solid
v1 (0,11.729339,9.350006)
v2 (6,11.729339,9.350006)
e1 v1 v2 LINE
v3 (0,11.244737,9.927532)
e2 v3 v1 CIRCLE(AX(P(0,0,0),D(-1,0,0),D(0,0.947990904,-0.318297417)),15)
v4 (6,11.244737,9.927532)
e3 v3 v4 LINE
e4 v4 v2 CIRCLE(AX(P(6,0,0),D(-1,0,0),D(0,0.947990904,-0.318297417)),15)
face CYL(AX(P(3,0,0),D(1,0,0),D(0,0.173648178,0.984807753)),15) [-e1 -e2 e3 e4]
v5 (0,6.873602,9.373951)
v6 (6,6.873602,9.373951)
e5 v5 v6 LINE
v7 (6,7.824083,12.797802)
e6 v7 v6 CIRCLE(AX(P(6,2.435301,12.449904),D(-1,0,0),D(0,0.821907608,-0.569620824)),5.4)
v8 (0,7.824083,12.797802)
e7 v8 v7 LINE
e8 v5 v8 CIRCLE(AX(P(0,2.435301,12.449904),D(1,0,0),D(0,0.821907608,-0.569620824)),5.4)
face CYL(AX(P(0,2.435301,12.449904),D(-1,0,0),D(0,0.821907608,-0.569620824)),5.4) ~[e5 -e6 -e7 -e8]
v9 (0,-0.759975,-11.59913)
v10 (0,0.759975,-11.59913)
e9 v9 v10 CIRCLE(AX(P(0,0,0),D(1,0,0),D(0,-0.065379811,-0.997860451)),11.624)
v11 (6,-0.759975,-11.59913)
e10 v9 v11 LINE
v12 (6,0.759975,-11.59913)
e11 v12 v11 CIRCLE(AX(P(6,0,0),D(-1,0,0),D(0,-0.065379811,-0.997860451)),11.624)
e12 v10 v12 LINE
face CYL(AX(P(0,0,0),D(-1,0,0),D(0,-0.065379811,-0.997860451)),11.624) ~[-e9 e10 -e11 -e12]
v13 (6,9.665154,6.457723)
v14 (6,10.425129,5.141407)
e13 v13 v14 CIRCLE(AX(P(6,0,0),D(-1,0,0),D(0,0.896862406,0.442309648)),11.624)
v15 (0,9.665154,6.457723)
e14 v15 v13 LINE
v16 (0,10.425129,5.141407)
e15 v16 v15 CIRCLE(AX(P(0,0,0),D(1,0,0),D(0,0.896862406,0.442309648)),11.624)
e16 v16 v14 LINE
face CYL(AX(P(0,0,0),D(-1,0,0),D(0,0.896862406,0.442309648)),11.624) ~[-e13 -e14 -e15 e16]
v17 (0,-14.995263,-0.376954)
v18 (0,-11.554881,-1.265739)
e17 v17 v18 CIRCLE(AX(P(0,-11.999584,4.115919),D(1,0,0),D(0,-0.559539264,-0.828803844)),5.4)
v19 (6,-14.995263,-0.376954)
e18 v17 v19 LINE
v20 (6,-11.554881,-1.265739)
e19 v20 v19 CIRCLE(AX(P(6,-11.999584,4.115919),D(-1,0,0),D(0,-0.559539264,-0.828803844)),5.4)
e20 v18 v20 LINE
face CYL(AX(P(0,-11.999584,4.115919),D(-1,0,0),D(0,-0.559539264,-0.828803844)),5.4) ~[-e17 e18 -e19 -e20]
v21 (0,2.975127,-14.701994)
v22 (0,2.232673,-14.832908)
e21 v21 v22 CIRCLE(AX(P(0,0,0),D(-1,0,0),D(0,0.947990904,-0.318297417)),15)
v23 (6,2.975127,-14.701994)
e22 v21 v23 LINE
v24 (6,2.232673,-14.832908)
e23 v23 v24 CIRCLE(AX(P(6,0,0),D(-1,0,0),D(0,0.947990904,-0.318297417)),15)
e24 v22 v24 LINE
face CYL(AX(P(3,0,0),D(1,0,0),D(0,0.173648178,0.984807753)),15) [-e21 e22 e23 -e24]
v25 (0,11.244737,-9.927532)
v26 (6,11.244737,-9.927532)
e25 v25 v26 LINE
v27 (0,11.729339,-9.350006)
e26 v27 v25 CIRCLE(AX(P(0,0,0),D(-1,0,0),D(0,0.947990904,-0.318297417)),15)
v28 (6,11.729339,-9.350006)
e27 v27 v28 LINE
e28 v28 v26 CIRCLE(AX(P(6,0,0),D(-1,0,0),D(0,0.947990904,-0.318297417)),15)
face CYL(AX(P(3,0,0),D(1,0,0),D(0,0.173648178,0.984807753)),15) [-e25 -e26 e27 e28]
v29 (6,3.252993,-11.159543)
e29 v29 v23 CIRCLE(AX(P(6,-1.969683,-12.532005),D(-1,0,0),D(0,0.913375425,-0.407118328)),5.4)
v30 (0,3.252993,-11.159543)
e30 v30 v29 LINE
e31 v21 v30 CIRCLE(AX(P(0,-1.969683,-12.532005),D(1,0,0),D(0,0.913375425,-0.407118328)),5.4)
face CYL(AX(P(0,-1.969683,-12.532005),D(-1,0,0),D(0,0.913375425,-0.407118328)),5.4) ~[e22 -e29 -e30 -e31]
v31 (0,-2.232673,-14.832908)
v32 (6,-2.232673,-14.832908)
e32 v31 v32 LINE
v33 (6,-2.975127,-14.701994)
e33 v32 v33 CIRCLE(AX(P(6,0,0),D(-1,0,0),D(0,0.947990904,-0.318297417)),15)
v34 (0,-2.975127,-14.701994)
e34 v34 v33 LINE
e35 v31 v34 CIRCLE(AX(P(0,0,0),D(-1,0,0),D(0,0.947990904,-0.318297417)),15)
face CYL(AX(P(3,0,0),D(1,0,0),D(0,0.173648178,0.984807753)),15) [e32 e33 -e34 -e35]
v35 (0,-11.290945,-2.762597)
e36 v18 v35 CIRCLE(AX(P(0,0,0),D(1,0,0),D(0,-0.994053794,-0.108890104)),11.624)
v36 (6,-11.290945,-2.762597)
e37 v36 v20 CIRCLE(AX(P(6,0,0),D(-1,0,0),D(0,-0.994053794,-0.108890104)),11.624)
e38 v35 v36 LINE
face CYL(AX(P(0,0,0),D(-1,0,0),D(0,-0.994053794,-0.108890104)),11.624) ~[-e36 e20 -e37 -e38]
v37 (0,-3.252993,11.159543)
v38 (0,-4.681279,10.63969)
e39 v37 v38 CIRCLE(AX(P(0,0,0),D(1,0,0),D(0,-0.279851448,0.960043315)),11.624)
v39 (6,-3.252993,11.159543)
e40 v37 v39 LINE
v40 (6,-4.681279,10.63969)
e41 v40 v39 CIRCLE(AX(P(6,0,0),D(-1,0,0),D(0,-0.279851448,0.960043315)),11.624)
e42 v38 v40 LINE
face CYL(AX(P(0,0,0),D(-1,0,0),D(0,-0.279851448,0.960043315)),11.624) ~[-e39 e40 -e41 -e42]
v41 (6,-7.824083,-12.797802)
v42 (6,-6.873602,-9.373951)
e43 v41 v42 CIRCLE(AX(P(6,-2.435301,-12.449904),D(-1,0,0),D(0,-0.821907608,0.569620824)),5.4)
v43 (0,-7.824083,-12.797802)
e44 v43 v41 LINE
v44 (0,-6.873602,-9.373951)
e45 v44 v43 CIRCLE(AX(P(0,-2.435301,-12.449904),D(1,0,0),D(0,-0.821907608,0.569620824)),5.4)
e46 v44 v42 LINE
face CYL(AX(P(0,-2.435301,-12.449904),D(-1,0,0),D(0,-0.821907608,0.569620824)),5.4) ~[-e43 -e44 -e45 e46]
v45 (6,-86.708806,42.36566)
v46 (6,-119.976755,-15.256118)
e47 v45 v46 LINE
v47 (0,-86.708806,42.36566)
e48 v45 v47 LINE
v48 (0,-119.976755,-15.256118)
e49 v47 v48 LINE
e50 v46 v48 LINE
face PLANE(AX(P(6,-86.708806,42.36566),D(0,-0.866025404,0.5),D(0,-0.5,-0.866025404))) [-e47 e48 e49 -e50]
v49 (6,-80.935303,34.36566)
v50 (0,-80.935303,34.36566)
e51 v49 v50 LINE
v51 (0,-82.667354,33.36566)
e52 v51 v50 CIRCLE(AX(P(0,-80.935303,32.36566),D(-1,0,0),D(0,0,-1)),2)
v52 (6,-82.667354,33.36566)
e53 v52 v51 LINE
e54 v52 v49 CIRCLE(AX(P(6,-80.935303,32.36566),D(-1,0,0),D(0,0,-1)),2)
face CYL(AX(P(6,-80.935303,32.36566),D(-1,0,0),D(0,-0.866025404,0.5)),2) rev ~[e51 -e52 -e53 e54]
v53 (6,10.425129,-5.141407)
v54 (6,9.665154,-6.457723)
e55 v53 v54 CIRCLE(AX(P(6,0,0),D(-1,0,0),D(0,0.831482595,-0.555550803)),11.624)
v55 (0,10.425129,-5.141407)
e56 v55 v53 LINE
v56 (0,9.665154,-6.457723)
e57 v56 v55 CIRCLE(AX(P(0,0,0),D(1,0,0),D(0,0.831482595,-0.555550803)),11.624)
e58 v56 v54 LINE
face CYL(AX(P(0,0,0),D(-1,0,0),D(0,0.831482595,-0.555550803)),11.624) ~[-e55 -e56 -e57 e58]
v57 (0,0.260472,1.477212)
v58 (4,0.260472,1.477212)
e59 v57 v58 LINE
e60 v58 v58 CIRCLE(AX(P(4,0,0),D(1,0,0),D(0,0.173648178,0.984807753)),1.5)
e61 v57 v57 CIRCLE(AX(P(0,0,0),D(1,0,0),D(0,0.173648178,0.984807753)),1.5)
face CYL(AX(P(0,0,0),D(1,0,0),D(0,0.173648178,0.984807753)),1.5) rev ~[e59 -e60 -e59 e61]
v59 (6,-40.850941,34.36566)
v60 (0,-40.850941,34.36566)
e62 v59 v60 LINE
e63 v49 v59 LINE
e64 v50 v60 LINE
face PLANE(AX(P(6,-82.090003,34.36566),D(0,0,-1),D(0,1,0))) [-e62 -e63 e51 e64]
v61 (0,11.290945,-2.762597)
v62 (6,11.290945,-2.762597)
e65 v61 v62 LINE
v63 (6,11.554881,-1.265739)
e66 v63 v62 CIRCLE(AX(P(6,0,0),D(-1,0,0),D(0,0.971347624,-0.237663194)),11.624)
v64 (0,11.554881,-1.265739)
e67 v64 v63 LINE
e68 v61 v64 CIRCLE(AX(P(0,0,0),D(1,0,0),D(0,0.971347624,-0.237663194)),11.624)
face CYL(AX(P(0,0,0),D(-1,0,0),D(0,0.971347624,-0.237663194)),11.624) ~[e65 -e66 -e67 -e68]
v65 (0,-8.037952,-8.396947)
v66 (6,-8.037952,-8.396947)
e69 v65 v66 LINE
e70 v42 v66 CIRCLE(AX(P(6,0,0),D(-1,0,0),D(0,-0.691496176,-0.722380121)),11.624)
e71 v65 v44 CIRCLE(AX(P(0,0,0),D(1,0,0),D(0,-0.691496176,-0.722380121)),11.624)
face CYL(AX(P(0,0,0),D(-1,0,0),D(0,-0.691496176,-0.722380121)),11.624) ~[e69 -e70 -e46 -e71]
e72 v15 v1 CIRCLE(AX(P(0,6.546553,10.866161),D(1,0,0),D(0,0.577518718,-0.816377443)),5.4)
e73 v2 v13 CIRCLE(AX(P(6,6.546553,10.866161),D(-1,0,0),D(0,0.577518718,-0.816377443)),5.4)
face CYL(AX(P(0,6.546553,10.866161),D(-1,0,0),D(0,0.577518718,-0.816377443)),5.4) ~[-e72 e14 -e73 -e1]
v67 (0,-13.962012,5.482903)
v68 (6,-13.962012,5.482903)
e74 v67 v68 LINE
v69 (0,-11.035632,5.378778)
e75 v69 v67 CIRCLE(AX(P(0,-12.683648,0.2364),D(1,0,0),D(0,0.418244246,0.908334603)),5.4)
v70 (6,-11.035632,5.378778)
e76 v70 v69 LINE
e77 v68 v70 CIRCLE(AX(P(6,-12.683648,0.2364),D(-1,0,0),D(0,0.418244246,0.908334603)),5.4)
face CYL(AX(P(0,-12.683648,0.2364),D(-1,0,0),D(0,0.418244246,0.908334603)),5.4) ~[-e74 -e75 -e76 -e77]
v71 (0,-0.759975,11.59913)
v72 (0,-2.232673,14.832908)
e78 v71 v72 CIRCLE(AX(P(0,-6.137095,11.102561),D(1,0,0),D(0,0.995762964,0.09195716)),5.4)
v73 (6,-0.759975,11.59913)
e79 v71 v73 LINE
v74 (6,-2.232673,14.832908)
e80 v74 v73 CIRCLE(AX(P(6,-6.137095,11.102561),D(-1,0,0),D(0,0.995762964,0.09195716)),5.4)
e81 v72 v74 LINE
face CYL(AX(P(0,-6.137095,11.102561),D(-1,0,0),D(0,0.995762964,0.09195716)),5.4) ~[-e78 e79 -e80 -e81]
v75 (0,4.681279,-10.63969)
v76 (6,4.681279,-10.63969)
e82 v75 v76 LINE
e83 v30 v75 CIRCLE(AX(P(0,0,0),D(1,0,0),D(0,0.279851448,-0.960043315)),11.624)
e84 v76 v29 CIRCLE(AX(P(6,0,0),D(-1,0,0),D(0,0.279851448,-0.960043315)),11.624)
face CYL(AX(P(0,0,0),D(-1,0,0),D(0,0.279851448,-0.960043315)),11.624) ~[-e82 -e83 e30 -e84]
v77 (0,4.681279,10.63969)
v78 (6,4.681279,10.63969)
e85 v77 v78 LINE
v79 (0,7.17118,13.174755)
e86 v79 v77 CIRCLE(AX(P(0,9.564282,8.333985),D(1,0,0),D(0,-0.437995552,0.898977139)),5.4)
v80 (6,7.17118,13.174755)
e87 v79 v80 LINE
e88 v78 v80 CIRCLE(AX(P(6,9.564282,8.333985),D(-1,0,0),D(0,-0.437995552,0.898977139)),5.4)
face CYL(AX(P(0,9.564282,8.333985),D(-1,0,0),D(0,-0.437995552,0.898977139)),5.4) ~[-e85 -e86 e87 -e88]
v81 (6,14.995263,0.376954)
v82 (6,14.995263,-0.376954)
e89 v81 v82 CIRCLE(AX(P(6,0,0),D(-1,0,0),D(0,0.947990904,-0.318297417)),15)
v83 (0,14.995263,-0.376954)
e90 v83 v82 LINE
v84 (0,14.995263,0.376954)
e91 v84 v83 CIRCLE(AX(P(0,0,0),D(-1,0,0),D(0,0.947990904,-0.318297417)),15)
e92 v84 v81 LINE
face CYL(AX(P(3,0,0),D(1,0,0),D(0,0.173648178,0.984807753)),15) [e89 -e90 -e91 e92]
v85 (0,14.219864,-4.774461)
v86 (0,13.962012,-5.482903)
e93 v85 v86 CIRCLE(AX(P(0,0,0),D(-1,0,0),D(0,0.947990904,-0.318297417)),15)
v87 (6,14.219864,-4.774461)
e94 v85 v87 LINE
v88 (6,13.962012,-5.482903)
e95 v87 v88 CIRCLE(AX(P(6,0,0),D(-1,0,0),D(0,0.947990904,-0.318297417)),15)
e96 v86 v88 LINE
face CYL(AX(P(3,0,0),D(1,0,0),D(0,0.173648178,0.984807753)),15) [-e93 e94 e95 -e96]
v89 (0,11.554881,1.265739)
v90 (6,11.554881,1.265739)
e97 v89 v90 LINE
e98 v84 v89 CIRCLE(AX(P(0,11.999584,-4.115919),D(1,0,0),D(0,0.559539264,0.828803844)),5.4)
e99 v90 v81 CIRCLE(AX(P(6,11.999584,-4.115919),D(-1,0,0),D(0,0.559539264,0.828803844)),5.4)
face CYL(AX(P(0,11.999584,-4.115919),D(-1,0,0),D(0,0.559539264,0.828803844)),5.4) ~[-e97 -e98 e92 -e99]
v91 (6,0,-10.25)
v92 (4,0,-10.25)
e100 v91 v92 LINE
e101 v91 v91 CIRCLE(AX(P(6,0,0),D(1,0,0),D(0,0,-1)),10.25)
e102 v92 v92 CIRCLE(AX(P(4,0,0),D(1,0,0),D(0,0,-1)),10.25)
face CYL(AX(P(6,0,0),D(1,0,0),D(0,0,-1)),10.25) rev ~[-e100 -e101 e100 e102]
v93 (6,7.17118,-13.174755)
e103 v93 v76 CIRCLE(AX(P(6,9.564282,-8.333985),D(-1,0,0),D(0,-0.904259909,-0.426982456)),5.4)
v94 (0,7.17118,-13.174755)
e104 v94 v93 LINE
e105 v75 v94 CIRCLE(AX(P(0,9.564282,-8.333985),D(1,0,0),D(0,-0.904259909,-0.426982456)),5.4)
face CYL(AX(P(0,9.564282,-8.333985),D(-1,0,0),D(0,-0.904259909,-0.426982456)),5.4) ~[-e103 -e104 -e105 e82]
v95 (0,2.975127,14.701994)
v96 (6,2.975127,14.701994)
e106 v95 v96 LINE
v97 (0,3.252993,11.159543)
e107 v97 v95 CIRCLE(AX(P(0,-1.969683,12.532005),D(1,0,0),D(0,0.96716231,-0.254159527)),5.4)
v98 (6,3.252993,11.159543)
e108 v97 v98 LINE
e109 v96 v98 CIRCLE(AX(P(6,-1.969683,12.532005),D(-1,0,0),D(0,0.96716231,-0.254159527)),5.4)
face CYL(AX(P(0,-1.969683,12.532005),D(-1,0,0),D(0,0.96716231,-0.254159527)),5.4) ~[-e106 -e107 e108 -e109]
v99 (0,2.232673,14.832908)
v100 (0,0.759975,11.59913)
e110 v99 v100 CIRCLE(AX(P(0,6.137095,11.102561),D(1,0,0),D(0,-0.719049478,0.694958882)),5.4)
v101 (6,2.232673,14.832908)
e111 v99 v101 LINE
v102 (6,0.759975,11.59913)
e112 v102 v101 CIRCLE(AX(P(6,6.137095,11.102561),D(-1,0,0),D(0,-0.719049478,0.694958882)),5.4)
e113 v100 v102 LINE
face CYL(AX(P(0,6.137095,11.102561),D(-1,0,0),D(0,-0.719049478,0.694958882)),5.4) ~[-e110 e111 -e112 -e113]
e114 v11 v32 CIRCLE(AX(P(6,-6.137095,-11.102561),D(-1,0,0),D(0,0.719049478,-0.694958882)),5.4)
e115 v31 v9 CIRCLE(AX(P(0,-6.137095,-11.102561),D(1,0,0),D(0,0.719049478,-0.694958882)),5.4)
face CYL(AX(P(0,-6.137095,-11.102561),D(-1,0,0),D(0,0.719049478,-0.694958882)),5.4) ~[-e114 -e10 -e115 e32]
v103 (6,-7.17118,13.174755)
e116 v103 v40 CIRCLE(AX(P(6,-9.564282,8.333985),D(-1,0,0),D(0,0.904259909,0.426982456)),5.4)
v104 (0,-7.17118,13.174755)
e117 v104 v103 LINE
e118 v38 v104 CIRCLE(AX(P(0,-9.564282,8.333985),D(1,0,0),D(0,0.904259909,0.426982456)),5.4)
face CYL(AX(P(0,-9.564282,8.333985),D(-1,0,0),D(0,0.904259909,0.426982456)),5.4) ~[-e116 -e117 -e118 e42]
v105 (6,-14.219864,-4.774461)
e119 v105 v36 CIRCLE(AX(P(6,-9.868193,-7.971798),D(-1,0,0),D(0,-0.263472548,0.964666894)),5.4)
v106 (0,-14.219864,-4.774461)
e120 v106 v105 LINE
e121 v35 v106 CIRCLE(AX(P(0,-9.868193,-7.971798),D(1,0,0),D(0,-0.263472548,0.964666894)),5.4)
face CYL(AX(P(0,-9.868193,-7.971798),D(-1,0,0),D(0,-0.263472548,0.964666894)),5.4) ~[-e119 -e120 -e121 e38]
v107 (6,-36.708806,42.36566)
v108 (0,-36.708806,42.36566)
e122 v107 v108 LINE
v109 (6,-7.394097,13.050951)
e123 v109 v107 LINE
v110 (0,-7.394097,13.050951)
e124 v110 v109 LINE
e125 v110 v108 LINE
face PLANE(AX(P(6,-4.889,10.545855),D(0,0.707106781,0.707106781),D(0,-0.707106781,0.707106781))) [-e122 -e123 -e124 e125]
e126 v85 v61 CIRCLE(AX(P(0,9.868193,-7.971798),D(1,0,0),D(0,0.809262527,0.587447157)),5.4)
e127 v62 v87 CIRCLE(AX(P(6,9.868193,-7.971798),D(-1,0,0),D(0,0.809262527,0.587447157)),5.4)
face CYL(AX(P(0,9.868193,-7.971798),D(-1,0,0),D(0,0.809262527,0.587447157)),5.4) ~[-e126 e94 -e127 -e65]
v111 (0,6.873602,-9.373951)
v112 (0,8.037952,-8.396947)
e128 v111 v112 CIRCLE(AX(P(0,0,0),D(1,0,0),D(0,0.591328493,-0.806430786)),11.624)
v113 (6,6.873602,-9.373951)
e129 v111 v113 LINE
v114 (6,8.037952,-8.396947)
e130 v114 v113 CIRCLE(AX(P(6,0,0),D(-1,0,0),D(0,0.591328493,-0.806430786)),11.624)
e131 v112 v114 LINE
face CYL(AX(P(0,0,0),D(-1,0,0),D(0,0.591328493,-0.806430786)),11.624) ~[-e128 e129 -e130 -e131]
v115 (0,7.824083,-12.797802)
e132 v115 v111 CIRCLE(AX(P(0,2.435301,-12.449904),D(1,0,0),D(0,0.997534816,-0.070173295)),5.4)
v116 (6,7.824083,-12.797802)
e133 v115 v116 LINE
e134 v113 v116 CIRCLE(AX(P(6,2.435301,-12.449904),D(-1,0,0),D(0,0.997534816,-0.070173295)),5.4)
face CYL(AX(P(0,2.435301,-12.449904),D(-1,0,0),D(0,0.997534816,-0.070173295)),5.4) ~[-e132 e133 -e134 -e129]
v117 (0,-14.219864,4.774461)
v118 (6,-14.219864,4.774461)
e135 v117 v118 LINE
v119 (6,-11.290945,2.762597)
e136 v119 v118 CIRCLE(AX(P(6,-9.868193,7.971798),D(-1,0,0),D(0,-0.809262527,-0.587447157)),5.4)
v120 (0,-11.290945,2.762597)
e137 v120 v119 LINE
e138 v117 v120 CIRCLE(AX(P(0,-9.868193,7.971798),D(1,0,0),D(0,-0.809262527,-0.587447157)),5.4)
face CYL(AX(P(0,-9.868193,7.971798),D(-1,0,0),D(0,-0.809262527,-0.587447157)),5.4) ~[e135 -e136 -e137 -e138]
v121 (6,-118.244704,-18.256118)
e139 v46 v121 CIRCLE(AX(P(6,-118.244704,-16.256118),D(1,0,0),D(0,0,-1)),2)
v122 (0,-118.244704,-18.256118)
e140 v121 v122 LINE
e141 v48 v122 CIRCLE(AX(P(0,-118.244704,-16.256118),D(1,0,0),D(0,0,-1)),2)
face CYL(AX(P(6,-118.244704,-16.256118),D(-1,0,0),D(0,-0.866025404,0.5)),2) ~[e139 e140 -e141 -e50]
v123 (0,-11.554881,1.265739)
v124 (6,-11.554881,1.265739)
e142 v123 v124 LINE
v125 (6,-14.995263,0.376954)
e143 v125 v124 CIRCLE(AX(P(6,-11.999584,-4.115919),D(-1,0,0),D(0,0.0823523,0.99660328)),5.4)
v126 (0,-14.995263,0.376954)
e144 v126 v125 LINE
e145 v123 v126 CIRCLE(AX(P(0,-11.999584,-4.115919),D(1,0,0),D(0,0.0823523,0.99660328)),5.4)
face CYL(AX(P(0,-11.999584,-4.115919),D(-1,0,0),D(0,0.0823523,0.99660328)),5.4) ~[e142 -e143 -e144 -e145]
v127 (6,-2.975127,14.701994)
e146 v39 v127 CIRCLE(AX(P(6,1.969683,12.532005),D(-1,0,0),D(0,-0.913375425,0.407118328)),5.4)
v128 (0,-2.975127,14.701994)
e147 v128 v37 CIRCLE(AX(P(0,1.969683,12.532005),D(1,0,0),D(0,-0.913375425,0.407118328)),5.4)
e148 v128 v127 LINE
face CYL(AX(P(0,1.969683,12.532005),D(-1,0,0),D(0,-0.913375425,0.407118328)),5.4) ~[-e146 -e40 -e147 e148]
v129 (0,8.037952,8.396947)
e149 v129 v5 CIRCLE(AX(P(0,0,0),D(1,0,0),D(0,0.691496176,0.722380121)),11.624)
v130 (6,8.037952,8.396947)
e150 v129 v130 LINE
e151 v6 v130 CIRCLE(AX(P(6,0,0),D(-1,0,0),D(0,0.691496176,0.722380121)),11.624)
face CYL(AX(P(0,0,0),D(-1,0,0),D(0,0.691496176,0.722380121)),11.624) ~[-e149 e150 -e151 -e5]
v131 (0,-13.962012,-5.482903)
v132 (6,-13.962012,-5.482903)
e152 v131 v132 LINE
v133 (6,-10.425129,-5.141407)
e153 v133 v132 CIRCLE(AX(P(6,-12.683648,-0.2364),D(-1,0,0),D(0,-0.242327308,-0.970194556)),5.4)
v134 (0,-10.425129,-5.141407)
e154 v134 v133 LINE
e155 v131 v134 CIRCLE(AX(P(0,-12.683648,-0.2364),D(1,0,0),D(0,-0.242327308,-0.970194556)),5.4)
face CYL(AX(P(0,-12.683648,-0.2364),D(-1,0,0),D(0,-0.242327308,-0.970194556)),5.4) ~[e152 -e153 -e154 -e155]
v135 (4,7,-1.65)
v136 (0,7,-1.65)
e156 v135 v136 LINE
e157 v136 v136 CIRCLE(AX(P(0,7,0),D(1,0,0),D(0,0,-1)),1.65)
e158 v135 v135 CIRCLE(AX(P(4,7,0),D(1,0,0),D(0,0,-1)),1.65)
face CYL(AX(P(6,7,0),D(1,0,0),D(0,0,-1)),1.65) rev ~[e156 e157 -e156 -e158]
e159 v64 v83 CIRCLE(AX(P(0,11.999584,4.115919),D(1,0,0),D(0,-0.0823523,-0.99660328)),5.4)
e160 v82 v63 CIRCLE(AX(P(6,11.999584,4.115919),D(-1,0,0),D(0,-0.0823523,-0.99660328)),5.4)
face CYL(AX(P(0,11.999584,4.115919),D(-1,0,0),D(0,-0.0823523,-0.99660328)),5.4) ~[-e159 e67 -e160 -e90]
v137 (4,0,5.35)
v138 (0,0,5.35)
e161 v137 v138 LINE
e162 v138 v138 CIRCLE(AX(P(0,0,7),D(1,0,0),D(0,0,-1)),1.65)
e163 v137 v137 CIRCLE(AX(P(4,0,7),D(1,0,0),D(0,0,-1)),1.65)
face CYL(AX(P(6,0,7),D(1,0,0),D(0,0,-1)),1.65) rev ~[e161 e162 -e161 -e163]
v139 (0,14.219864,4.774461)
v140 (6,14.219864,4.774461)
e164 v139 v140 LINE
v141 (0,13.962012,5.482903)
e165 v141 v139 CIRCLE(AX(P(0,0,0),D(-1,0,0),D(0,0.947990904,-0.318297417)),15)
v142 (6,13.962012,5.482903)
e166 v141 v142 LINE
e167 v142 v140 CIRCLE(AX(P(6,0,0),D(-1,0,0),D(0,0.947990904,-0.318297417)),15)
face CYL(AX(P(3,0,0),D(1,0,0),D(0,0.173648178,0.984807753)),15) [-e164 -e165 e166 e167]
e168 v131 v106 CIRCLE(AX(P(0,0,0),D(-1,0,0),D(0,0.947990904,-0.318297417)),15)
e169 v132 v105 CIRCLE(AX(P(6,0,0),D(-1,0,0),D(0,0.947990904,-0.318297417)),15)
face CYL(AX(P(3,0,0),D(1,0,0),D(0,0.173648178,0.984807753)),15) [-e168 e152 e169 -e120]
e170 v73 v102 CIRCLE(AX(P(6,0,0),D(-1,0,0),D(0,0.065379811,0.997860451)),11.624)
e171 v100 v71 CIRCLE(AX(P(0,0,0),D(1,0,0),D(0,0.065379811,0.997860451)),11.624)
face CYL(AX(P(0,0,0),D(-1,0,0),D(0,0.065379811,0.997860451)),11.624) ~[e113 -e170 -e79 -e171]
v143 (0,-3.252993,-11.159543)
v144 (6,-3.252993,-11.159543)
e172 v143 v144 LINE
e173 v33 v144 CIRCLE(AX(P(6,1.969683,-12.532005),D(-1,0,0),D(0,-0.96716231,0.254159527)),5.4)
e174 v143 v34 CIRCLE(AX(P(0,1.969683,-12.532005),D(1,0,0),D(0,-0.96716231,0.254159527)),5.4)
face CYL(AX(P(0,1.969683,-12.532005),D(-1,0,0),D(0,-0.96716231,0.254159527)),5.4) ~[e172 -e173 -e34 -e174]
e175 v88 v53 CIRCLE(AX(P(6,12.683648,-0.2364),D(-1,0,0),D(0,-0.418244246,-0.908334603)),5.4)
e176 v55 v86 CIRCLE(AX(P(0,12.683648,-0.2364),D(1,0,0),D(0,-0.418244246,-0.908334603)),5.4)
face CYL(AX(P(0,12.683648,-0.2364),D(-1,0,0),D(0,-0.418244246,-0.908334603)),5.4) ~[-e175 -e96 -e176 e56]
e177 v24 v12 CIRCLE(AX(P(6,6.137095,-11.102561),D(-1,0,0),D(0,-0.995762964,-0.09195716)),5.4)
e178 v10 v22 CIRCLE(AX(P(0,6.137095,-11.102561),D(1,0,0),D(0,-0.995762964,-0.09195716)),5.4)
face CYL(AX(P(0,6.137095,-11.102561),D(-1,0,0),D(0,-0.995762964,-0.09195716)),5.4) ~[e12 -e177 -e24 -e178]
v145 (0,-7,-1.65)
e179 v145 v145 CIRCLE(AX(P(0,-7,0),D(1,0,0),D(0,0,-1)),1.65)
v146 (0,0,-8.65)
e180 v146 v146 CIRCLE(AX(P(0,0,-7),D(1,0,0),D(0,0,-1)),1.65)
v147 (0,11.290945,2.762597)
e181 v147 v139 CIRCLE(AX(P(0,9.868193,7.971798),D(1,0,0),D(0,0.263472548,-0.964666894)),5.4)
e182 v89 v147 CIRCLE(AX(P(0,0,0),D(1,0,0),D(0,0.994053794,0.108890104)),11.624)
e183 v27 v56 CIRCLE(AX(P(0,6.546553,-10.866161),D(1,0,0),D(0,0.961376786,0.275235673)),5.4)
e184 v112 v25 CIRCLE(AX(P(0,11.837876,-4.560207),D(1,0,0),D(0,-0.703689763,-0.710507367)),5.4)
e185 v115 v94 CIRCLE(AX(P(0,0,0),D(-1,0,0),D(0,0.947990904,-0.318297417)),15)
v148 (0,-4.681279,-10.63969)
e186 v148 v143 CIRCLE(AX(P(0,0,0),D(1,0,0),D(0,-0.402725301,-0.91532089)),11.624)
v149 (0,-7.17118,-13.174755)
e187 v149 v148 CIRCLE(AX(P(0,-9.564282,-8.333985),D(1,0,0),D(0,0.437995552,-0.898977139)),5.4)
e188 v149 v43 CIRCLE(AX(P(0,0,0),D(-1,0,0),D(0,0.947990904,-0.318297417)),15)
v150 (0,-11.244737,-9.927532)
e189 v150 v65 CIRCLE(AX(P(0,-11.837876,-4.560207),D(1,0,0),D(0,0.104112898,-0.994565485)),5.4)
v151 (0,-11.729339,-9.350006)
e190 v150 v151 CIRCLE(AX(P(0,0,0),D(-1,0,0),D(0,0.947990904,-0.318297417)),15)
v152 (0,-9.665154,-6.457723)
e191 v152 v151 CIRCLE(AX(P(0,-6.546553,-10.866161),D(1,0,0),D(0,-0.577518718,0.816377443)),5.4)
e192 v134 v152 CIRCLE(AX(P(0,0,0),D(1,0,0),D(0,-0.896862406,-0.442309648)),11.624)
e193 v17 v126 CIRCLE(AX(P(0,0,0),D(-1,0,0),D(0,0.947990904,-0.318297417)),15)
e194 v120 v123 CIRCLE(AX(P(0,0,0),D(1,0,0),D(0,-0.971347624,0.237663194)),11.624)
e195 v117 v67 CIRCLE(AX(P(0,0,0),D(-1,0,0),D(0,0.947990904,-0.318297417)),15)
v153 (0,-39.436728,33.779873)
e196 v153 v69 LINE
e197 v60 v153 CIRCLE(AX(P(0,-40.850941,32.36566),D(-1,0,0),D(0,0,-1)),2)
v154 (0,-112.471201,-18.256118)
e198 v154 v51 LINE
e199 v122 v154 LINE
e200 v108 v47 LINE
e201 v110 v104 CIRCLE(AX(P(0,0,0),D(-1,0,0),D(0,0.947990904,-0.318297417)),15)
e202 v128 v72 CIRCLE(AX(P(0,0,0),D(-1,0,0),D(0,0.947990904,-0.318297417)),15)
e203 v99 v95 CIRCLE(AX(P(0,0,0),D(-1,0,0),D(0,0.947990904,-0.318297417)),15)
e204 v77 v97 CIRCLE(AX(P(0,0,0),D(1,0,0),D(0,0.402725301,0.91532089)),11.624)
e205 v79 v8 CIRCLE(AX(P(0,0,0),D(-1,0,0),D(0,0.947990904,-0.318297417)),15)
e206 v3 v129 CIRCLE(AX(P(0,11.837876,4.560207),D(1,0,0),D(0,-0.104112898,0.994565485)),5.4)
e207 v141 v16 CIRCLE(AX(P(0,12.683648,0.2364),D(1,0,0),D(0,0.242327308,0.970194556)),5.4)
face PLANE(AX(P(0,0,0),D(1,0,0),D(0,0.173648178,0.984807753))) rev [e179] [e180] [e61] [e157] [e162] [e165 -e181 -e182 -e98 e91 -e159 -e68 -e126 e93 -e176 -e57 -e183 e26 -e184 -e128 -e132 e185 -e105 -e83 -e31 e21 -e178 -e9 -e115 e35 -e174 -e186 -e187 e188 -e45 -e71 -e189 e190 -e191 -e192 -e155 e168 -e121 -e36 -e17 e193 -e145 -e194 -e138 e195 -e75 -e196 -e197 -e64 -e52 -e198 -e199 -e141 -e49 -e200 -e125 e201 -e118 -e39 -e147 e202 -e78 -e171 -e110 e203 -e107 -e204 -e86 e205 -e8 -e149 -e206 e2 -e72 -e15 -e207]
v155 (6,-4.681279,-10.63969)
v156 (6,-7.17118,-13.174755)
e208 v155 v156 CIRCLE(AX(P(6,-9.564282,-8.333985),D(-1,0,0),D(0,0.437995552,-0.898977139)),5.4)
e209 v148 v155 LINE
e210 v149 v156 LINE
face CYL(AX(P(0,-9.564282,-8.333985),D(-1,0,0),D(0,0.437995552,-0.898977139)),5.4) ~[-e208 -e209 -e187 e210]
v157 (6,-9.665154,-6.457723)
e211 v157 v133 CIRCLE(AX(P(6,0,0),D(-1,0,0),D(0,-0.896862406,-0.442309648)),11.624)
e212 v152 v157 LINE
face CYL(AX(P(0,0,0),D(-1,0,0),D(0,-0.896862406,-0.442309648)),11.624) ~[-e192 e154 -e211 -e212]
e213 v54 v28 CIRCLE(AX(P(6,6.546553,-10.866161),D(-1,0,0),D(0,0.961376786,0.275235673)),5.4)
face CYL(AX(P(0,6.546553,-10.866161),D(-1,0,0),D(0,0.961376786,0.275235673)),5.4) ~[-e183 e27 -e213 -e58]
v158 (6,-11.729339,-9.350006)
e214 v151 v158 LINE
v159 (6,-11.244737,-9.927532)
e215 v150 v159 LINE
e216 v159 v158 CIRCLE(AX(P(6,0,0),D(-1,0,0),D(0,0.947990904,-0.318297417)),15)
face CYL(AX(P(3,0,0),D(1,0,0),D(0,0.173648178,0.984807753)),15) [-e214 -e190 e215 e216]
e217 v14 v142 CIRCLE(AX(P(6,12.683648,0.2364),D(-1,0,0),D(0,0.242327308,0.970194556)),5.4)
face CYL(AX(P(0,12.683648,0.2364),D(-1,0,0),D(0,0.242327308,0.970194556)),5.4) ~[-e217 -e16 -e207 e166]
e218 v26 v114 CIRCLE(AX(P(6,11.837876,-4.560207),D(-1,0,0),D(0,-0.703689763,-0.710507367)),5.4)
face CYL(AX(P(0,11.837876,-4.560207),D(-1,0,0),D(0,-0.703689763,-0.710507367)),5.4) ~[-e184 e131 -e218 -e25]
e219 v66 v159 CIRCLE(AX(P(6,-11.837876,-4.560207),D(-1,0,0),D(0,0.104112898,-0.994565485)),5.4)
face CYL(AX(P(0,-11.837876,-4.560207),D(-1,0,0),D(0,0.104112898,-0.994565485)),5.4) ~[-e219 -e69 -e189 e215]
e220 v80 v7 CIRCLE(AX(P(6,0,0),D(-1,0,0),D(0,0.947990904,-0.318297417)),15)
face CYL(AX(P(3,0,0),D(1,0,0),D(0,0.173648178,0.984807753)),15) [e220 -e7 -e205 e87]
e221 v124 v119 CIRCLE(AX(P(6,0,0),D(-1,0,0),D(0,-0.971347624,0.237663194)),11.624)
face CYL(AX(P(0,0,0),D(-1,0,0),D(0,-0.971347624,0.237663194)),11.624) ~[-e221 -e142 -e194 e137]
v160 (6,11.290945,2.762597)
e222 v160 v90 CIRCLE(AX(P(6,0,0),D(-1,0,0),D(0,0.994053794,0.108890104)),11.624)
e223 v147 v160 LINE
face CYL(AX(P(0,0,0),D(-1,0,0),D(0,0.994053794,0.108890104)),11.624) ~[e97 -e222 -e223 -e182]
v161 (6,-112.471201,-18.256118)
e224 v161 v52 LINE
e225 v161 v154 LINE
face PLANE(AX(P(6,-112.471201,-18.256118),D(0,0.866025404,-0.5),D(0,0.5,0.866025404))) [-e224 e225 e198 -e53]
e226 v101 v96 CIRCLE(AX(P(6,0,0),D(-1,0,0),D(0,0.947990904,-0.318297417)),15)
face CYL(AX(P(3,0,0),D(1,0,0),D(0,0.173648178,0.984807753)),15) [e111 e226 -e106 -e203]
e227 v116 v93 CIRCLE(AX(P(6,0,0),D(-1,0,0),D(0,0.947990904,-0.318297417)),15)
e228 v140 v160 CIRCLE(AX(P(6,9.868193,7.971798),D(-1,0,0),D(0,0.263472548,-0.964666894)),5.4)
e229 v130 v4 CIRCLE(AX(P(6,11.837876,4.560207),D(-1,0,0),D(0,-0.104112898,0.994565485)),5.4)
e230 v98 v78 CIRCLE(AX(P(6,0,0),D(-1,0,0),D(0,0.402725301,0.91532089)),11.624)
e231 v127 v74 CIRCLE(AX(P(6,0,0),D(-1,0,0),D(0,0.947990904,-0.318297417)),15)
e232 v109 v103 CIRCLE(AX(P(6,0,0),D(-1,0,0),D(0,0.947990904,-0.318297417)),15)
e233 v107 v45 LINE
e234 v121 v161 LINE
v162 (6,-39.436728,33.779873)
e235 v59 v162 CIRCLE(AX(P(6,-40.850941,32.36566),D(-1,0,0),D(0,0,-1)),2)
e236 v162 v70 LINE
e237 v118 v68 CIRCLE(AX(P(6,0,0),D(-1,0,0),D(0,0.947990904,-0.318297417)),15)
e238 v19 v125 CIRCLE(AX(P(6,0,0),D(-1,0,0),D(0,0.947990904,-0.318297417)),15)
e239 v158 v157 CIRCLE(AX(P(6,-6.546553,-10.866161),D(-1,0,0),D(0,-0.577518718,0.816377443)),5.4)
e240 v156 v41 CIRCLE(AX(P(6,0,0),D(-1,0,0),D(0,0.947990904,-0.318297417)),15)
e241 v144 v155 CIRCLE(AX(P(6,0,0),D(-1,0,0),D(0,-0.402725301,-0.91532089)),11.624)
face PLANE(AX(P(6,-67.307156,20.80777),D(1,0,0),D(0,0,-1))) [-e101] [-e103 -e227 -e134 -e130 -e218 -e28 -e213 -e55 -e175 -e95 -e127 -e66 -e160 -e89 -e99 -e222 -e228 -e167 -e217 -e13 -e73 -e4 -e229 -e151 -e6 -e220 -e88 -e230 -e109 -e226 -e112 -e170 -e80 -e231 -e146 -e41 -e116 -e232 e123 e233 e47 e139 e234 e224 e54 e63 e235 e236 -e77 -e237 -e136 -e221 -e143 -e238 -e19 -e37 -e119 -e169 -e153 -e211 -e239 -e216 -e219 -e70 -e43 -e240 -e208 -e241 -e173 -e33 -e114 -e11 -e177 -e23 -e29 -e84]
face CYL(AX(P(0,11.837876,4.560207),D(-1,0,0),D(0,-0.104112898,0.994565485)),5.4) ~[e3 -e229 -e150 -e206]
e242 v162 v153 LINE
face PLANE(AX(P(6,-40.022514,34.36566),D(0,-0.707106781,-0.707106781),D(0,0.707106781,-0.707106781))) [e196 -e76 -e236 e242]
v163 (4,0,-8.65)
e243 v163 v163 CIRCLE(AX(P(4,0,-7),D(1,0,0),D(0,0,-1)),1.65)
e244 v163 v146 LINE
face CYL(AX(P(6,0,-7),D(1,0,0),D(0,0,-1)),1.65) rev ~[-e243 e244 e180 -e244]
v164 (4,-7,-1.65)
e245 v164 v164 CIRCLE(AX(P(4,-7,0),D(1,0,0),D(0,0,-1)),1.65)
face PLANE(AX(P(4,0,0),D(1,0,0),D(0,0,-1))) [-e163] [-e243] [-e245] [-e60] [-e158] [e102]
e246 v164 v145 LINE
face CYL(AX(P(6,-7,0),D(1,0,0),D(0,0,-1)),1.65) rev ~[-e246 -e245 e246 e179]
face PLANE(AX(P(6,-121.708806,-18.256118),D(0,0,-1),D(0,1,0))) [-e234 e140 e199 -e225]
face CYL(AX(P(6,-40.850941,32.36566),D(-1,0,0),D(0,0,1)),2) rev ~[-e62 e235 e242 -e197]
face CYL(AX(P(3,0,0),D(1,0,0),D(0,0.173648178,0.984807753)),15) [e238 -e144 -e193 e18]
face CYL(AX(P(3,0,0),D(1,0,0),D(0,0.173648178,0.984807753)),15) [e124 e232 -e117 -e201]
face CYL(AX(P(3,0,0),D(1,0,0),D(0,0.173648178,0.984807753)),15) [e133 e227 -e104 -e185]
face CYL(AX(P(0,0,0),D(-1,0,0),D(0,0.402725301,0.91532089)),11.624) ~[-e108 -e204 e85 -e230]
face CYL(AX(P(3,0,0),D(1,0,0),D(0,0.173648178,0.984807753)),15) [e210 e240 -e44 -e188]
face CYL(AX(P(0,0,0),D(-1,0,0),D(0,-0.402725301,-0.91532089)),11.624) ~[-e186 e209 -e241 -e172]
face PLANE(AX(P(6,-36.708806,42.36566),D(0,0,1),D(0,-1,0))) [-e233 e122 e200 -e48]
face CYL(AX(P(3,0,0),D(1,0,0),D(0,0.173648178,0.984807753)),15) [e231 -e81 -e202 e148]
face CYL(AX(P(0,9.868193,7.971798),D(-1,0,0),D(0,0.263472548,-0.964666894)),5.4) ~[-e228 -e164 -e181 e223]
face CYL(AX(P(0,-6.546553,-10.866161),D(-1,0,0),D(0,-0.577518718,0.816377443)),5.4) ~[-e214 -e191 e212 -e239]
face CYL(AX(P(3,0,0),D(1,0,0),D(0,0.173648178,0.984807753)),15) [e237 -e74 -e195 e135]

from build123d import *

# Parameters (mm, degrees)
BASPROSKE_W         = 6
BASPROSKE_H         = 15
TOOTHCUT_DEPTH      = 23.045407685
TEETHCUTS_COUNT     = 18
TEETHCUTS_ANGLE     = 340
BORSKE_R            = 1.5
BORE_DEPTH          = 50.0000508
MOVE_BODY_10_ANGLE  = 10
EXTRUDE_2_DEPTH     = 6
SKETCH_2_R          = 1.65
CUT_EXTRUDE_1_DEPTH = 6
SKETCH_3_R          = 10.25
CUT_EXTRUDE_2_DEPTH = 2
FILLET_1_R          = 2


with BuildPart() as part:
    # BasProSke → Base-Revolve (revolve)
    with BuildSketch(Plane(origin=(0, 0, 0), x_dir=(1, 0, 0), z_dir=(0, 1, 0))):
        with Locations((3, 7.5)):
            Rectangle(BASPROSKE_W, BASPROSKE_H)
    revolve(axis=Axis((-10, 0, 0), (1, 0, 0)))

    # TooCutSke → ToothCut (cut, through all)
    with BuildSketch(Plane(origin=(0, 0, 0), x_dir=(0, 0, -1), z_dir=(1, 0, 0))):
        with BuildLine():
            ThreePointArc((0.759974923, 11.599129886), (0, 11.624), (-0.759974923, 11.599129886))
            ThreePointArc((-0.759974923, 11.599129886), (-1.229186471, 13.354767823), (-2.254227748, 14.855339189))
            ThreePointArc((-2.254227748, 14.855339189), (0, 15.0254), (2.254227748, 14.855339189))
            ThreePointArc((2.254227748, 14.855339189), (1.229186471, 13.354767823), (0.759974923, 11.599129886))
        make_face()
    toothcut = extrude(amount=TOOTHCUT_DEPTH, mode=Mode.SUBTRACT)

    # TeethCuts: ToothCut ×18 about axis
    teethcuts_axis = Axis((-10, 0, 0), (1, 0, 0))
    for i in range(1, TEETHCUTS_COUNT):
        add(toothcut.rotate(teethcuts_axis, i * TEETHCUTS_ANGLE / (TEETHCUTS_COUNT - 1)), mode=Mode.SUBTRACT)

    # BorSke → Bore (cut, symmetric)
    with BuildSketch(Plane(origin=(0, 0, 0), x_dir=(0, 0, -1), z_dir=(1, 0, 0))):
        Circle(BORSKE_R)
    extrude(amount=BORE_DEPTH, both=True, mode=Mode.SUBTRACT)


with BuildPart() as part_1:
    # Move Body 10: moved
    add(part.part.rotate(Axis((0, 0, 0), (-1, 0, 0)), MOVE_BODY_10_ANGLE))

    # 草图1 → 凸台-拉伸2 (add)
    with BuildSketch(Plane(origin=(6, 0, 0), x_dir=(0, 0, -1), z_dir=(1, 0, 0))):
        Polygon((-10.545854675, -4.889000426), (-42.365659829, -36.708805579), (-42.365659829, -86.708805579), (18.256118436, -121.708805579), (18.256118436, -112.471201272), (-34.365659829, -82.090003426), (-34.365659829, -40.022514078), (-4.889000426, -10.545854675), align=None)
    extrude(amount=-EXTRUDE_2_DEPTH)

    # 草图2 → 切除-拉伸1 (cut)
    with BuildSketch(Plane(origin=(6, 0, 0), x_dir=(0, 0, -1), z_dir=(1, 0, 0))):
        with Locations((-7, 0)):
            Circle(SKETCH_2_R)
        with Locations((0, 7)):
            Circle(SKETCH_2_R)
        with Locations((7, 0)):
            Circle(SKETCH_2_R)
        with Locations((0, -7)):
            Circle(SKETCH_2_R)
    extrude(amount=-CUT_EXTRUDE_1_DEPTH, mode=Mode.SUBTRACT)

    # 草图3 → 切除-拉伸2 (cut)
    with BuildSketch(Plane(origin=(6, 0, 0), x_dir=(0, 0, -1), z_dir=(1, 0, 0))):
        Circle(SKETCH_3_R)
    extrude(amount=-CUT_EXTRUDE_2_DEPTH, mode=Mode.SUBTRACT)

    # 圆角1
    fillet_1_edges = [part_1.edges().sort_by_distance(p)[0] for p in [
        (3, -82.090003426, 34.365659829),
        (3, -40.022514078, 34.365659829),
        (3, -121.708805579, -18.256118436),
    ]]
    fillet(fillet_1_edges, radius=FILLET_1_R)


solid = part_1.part
